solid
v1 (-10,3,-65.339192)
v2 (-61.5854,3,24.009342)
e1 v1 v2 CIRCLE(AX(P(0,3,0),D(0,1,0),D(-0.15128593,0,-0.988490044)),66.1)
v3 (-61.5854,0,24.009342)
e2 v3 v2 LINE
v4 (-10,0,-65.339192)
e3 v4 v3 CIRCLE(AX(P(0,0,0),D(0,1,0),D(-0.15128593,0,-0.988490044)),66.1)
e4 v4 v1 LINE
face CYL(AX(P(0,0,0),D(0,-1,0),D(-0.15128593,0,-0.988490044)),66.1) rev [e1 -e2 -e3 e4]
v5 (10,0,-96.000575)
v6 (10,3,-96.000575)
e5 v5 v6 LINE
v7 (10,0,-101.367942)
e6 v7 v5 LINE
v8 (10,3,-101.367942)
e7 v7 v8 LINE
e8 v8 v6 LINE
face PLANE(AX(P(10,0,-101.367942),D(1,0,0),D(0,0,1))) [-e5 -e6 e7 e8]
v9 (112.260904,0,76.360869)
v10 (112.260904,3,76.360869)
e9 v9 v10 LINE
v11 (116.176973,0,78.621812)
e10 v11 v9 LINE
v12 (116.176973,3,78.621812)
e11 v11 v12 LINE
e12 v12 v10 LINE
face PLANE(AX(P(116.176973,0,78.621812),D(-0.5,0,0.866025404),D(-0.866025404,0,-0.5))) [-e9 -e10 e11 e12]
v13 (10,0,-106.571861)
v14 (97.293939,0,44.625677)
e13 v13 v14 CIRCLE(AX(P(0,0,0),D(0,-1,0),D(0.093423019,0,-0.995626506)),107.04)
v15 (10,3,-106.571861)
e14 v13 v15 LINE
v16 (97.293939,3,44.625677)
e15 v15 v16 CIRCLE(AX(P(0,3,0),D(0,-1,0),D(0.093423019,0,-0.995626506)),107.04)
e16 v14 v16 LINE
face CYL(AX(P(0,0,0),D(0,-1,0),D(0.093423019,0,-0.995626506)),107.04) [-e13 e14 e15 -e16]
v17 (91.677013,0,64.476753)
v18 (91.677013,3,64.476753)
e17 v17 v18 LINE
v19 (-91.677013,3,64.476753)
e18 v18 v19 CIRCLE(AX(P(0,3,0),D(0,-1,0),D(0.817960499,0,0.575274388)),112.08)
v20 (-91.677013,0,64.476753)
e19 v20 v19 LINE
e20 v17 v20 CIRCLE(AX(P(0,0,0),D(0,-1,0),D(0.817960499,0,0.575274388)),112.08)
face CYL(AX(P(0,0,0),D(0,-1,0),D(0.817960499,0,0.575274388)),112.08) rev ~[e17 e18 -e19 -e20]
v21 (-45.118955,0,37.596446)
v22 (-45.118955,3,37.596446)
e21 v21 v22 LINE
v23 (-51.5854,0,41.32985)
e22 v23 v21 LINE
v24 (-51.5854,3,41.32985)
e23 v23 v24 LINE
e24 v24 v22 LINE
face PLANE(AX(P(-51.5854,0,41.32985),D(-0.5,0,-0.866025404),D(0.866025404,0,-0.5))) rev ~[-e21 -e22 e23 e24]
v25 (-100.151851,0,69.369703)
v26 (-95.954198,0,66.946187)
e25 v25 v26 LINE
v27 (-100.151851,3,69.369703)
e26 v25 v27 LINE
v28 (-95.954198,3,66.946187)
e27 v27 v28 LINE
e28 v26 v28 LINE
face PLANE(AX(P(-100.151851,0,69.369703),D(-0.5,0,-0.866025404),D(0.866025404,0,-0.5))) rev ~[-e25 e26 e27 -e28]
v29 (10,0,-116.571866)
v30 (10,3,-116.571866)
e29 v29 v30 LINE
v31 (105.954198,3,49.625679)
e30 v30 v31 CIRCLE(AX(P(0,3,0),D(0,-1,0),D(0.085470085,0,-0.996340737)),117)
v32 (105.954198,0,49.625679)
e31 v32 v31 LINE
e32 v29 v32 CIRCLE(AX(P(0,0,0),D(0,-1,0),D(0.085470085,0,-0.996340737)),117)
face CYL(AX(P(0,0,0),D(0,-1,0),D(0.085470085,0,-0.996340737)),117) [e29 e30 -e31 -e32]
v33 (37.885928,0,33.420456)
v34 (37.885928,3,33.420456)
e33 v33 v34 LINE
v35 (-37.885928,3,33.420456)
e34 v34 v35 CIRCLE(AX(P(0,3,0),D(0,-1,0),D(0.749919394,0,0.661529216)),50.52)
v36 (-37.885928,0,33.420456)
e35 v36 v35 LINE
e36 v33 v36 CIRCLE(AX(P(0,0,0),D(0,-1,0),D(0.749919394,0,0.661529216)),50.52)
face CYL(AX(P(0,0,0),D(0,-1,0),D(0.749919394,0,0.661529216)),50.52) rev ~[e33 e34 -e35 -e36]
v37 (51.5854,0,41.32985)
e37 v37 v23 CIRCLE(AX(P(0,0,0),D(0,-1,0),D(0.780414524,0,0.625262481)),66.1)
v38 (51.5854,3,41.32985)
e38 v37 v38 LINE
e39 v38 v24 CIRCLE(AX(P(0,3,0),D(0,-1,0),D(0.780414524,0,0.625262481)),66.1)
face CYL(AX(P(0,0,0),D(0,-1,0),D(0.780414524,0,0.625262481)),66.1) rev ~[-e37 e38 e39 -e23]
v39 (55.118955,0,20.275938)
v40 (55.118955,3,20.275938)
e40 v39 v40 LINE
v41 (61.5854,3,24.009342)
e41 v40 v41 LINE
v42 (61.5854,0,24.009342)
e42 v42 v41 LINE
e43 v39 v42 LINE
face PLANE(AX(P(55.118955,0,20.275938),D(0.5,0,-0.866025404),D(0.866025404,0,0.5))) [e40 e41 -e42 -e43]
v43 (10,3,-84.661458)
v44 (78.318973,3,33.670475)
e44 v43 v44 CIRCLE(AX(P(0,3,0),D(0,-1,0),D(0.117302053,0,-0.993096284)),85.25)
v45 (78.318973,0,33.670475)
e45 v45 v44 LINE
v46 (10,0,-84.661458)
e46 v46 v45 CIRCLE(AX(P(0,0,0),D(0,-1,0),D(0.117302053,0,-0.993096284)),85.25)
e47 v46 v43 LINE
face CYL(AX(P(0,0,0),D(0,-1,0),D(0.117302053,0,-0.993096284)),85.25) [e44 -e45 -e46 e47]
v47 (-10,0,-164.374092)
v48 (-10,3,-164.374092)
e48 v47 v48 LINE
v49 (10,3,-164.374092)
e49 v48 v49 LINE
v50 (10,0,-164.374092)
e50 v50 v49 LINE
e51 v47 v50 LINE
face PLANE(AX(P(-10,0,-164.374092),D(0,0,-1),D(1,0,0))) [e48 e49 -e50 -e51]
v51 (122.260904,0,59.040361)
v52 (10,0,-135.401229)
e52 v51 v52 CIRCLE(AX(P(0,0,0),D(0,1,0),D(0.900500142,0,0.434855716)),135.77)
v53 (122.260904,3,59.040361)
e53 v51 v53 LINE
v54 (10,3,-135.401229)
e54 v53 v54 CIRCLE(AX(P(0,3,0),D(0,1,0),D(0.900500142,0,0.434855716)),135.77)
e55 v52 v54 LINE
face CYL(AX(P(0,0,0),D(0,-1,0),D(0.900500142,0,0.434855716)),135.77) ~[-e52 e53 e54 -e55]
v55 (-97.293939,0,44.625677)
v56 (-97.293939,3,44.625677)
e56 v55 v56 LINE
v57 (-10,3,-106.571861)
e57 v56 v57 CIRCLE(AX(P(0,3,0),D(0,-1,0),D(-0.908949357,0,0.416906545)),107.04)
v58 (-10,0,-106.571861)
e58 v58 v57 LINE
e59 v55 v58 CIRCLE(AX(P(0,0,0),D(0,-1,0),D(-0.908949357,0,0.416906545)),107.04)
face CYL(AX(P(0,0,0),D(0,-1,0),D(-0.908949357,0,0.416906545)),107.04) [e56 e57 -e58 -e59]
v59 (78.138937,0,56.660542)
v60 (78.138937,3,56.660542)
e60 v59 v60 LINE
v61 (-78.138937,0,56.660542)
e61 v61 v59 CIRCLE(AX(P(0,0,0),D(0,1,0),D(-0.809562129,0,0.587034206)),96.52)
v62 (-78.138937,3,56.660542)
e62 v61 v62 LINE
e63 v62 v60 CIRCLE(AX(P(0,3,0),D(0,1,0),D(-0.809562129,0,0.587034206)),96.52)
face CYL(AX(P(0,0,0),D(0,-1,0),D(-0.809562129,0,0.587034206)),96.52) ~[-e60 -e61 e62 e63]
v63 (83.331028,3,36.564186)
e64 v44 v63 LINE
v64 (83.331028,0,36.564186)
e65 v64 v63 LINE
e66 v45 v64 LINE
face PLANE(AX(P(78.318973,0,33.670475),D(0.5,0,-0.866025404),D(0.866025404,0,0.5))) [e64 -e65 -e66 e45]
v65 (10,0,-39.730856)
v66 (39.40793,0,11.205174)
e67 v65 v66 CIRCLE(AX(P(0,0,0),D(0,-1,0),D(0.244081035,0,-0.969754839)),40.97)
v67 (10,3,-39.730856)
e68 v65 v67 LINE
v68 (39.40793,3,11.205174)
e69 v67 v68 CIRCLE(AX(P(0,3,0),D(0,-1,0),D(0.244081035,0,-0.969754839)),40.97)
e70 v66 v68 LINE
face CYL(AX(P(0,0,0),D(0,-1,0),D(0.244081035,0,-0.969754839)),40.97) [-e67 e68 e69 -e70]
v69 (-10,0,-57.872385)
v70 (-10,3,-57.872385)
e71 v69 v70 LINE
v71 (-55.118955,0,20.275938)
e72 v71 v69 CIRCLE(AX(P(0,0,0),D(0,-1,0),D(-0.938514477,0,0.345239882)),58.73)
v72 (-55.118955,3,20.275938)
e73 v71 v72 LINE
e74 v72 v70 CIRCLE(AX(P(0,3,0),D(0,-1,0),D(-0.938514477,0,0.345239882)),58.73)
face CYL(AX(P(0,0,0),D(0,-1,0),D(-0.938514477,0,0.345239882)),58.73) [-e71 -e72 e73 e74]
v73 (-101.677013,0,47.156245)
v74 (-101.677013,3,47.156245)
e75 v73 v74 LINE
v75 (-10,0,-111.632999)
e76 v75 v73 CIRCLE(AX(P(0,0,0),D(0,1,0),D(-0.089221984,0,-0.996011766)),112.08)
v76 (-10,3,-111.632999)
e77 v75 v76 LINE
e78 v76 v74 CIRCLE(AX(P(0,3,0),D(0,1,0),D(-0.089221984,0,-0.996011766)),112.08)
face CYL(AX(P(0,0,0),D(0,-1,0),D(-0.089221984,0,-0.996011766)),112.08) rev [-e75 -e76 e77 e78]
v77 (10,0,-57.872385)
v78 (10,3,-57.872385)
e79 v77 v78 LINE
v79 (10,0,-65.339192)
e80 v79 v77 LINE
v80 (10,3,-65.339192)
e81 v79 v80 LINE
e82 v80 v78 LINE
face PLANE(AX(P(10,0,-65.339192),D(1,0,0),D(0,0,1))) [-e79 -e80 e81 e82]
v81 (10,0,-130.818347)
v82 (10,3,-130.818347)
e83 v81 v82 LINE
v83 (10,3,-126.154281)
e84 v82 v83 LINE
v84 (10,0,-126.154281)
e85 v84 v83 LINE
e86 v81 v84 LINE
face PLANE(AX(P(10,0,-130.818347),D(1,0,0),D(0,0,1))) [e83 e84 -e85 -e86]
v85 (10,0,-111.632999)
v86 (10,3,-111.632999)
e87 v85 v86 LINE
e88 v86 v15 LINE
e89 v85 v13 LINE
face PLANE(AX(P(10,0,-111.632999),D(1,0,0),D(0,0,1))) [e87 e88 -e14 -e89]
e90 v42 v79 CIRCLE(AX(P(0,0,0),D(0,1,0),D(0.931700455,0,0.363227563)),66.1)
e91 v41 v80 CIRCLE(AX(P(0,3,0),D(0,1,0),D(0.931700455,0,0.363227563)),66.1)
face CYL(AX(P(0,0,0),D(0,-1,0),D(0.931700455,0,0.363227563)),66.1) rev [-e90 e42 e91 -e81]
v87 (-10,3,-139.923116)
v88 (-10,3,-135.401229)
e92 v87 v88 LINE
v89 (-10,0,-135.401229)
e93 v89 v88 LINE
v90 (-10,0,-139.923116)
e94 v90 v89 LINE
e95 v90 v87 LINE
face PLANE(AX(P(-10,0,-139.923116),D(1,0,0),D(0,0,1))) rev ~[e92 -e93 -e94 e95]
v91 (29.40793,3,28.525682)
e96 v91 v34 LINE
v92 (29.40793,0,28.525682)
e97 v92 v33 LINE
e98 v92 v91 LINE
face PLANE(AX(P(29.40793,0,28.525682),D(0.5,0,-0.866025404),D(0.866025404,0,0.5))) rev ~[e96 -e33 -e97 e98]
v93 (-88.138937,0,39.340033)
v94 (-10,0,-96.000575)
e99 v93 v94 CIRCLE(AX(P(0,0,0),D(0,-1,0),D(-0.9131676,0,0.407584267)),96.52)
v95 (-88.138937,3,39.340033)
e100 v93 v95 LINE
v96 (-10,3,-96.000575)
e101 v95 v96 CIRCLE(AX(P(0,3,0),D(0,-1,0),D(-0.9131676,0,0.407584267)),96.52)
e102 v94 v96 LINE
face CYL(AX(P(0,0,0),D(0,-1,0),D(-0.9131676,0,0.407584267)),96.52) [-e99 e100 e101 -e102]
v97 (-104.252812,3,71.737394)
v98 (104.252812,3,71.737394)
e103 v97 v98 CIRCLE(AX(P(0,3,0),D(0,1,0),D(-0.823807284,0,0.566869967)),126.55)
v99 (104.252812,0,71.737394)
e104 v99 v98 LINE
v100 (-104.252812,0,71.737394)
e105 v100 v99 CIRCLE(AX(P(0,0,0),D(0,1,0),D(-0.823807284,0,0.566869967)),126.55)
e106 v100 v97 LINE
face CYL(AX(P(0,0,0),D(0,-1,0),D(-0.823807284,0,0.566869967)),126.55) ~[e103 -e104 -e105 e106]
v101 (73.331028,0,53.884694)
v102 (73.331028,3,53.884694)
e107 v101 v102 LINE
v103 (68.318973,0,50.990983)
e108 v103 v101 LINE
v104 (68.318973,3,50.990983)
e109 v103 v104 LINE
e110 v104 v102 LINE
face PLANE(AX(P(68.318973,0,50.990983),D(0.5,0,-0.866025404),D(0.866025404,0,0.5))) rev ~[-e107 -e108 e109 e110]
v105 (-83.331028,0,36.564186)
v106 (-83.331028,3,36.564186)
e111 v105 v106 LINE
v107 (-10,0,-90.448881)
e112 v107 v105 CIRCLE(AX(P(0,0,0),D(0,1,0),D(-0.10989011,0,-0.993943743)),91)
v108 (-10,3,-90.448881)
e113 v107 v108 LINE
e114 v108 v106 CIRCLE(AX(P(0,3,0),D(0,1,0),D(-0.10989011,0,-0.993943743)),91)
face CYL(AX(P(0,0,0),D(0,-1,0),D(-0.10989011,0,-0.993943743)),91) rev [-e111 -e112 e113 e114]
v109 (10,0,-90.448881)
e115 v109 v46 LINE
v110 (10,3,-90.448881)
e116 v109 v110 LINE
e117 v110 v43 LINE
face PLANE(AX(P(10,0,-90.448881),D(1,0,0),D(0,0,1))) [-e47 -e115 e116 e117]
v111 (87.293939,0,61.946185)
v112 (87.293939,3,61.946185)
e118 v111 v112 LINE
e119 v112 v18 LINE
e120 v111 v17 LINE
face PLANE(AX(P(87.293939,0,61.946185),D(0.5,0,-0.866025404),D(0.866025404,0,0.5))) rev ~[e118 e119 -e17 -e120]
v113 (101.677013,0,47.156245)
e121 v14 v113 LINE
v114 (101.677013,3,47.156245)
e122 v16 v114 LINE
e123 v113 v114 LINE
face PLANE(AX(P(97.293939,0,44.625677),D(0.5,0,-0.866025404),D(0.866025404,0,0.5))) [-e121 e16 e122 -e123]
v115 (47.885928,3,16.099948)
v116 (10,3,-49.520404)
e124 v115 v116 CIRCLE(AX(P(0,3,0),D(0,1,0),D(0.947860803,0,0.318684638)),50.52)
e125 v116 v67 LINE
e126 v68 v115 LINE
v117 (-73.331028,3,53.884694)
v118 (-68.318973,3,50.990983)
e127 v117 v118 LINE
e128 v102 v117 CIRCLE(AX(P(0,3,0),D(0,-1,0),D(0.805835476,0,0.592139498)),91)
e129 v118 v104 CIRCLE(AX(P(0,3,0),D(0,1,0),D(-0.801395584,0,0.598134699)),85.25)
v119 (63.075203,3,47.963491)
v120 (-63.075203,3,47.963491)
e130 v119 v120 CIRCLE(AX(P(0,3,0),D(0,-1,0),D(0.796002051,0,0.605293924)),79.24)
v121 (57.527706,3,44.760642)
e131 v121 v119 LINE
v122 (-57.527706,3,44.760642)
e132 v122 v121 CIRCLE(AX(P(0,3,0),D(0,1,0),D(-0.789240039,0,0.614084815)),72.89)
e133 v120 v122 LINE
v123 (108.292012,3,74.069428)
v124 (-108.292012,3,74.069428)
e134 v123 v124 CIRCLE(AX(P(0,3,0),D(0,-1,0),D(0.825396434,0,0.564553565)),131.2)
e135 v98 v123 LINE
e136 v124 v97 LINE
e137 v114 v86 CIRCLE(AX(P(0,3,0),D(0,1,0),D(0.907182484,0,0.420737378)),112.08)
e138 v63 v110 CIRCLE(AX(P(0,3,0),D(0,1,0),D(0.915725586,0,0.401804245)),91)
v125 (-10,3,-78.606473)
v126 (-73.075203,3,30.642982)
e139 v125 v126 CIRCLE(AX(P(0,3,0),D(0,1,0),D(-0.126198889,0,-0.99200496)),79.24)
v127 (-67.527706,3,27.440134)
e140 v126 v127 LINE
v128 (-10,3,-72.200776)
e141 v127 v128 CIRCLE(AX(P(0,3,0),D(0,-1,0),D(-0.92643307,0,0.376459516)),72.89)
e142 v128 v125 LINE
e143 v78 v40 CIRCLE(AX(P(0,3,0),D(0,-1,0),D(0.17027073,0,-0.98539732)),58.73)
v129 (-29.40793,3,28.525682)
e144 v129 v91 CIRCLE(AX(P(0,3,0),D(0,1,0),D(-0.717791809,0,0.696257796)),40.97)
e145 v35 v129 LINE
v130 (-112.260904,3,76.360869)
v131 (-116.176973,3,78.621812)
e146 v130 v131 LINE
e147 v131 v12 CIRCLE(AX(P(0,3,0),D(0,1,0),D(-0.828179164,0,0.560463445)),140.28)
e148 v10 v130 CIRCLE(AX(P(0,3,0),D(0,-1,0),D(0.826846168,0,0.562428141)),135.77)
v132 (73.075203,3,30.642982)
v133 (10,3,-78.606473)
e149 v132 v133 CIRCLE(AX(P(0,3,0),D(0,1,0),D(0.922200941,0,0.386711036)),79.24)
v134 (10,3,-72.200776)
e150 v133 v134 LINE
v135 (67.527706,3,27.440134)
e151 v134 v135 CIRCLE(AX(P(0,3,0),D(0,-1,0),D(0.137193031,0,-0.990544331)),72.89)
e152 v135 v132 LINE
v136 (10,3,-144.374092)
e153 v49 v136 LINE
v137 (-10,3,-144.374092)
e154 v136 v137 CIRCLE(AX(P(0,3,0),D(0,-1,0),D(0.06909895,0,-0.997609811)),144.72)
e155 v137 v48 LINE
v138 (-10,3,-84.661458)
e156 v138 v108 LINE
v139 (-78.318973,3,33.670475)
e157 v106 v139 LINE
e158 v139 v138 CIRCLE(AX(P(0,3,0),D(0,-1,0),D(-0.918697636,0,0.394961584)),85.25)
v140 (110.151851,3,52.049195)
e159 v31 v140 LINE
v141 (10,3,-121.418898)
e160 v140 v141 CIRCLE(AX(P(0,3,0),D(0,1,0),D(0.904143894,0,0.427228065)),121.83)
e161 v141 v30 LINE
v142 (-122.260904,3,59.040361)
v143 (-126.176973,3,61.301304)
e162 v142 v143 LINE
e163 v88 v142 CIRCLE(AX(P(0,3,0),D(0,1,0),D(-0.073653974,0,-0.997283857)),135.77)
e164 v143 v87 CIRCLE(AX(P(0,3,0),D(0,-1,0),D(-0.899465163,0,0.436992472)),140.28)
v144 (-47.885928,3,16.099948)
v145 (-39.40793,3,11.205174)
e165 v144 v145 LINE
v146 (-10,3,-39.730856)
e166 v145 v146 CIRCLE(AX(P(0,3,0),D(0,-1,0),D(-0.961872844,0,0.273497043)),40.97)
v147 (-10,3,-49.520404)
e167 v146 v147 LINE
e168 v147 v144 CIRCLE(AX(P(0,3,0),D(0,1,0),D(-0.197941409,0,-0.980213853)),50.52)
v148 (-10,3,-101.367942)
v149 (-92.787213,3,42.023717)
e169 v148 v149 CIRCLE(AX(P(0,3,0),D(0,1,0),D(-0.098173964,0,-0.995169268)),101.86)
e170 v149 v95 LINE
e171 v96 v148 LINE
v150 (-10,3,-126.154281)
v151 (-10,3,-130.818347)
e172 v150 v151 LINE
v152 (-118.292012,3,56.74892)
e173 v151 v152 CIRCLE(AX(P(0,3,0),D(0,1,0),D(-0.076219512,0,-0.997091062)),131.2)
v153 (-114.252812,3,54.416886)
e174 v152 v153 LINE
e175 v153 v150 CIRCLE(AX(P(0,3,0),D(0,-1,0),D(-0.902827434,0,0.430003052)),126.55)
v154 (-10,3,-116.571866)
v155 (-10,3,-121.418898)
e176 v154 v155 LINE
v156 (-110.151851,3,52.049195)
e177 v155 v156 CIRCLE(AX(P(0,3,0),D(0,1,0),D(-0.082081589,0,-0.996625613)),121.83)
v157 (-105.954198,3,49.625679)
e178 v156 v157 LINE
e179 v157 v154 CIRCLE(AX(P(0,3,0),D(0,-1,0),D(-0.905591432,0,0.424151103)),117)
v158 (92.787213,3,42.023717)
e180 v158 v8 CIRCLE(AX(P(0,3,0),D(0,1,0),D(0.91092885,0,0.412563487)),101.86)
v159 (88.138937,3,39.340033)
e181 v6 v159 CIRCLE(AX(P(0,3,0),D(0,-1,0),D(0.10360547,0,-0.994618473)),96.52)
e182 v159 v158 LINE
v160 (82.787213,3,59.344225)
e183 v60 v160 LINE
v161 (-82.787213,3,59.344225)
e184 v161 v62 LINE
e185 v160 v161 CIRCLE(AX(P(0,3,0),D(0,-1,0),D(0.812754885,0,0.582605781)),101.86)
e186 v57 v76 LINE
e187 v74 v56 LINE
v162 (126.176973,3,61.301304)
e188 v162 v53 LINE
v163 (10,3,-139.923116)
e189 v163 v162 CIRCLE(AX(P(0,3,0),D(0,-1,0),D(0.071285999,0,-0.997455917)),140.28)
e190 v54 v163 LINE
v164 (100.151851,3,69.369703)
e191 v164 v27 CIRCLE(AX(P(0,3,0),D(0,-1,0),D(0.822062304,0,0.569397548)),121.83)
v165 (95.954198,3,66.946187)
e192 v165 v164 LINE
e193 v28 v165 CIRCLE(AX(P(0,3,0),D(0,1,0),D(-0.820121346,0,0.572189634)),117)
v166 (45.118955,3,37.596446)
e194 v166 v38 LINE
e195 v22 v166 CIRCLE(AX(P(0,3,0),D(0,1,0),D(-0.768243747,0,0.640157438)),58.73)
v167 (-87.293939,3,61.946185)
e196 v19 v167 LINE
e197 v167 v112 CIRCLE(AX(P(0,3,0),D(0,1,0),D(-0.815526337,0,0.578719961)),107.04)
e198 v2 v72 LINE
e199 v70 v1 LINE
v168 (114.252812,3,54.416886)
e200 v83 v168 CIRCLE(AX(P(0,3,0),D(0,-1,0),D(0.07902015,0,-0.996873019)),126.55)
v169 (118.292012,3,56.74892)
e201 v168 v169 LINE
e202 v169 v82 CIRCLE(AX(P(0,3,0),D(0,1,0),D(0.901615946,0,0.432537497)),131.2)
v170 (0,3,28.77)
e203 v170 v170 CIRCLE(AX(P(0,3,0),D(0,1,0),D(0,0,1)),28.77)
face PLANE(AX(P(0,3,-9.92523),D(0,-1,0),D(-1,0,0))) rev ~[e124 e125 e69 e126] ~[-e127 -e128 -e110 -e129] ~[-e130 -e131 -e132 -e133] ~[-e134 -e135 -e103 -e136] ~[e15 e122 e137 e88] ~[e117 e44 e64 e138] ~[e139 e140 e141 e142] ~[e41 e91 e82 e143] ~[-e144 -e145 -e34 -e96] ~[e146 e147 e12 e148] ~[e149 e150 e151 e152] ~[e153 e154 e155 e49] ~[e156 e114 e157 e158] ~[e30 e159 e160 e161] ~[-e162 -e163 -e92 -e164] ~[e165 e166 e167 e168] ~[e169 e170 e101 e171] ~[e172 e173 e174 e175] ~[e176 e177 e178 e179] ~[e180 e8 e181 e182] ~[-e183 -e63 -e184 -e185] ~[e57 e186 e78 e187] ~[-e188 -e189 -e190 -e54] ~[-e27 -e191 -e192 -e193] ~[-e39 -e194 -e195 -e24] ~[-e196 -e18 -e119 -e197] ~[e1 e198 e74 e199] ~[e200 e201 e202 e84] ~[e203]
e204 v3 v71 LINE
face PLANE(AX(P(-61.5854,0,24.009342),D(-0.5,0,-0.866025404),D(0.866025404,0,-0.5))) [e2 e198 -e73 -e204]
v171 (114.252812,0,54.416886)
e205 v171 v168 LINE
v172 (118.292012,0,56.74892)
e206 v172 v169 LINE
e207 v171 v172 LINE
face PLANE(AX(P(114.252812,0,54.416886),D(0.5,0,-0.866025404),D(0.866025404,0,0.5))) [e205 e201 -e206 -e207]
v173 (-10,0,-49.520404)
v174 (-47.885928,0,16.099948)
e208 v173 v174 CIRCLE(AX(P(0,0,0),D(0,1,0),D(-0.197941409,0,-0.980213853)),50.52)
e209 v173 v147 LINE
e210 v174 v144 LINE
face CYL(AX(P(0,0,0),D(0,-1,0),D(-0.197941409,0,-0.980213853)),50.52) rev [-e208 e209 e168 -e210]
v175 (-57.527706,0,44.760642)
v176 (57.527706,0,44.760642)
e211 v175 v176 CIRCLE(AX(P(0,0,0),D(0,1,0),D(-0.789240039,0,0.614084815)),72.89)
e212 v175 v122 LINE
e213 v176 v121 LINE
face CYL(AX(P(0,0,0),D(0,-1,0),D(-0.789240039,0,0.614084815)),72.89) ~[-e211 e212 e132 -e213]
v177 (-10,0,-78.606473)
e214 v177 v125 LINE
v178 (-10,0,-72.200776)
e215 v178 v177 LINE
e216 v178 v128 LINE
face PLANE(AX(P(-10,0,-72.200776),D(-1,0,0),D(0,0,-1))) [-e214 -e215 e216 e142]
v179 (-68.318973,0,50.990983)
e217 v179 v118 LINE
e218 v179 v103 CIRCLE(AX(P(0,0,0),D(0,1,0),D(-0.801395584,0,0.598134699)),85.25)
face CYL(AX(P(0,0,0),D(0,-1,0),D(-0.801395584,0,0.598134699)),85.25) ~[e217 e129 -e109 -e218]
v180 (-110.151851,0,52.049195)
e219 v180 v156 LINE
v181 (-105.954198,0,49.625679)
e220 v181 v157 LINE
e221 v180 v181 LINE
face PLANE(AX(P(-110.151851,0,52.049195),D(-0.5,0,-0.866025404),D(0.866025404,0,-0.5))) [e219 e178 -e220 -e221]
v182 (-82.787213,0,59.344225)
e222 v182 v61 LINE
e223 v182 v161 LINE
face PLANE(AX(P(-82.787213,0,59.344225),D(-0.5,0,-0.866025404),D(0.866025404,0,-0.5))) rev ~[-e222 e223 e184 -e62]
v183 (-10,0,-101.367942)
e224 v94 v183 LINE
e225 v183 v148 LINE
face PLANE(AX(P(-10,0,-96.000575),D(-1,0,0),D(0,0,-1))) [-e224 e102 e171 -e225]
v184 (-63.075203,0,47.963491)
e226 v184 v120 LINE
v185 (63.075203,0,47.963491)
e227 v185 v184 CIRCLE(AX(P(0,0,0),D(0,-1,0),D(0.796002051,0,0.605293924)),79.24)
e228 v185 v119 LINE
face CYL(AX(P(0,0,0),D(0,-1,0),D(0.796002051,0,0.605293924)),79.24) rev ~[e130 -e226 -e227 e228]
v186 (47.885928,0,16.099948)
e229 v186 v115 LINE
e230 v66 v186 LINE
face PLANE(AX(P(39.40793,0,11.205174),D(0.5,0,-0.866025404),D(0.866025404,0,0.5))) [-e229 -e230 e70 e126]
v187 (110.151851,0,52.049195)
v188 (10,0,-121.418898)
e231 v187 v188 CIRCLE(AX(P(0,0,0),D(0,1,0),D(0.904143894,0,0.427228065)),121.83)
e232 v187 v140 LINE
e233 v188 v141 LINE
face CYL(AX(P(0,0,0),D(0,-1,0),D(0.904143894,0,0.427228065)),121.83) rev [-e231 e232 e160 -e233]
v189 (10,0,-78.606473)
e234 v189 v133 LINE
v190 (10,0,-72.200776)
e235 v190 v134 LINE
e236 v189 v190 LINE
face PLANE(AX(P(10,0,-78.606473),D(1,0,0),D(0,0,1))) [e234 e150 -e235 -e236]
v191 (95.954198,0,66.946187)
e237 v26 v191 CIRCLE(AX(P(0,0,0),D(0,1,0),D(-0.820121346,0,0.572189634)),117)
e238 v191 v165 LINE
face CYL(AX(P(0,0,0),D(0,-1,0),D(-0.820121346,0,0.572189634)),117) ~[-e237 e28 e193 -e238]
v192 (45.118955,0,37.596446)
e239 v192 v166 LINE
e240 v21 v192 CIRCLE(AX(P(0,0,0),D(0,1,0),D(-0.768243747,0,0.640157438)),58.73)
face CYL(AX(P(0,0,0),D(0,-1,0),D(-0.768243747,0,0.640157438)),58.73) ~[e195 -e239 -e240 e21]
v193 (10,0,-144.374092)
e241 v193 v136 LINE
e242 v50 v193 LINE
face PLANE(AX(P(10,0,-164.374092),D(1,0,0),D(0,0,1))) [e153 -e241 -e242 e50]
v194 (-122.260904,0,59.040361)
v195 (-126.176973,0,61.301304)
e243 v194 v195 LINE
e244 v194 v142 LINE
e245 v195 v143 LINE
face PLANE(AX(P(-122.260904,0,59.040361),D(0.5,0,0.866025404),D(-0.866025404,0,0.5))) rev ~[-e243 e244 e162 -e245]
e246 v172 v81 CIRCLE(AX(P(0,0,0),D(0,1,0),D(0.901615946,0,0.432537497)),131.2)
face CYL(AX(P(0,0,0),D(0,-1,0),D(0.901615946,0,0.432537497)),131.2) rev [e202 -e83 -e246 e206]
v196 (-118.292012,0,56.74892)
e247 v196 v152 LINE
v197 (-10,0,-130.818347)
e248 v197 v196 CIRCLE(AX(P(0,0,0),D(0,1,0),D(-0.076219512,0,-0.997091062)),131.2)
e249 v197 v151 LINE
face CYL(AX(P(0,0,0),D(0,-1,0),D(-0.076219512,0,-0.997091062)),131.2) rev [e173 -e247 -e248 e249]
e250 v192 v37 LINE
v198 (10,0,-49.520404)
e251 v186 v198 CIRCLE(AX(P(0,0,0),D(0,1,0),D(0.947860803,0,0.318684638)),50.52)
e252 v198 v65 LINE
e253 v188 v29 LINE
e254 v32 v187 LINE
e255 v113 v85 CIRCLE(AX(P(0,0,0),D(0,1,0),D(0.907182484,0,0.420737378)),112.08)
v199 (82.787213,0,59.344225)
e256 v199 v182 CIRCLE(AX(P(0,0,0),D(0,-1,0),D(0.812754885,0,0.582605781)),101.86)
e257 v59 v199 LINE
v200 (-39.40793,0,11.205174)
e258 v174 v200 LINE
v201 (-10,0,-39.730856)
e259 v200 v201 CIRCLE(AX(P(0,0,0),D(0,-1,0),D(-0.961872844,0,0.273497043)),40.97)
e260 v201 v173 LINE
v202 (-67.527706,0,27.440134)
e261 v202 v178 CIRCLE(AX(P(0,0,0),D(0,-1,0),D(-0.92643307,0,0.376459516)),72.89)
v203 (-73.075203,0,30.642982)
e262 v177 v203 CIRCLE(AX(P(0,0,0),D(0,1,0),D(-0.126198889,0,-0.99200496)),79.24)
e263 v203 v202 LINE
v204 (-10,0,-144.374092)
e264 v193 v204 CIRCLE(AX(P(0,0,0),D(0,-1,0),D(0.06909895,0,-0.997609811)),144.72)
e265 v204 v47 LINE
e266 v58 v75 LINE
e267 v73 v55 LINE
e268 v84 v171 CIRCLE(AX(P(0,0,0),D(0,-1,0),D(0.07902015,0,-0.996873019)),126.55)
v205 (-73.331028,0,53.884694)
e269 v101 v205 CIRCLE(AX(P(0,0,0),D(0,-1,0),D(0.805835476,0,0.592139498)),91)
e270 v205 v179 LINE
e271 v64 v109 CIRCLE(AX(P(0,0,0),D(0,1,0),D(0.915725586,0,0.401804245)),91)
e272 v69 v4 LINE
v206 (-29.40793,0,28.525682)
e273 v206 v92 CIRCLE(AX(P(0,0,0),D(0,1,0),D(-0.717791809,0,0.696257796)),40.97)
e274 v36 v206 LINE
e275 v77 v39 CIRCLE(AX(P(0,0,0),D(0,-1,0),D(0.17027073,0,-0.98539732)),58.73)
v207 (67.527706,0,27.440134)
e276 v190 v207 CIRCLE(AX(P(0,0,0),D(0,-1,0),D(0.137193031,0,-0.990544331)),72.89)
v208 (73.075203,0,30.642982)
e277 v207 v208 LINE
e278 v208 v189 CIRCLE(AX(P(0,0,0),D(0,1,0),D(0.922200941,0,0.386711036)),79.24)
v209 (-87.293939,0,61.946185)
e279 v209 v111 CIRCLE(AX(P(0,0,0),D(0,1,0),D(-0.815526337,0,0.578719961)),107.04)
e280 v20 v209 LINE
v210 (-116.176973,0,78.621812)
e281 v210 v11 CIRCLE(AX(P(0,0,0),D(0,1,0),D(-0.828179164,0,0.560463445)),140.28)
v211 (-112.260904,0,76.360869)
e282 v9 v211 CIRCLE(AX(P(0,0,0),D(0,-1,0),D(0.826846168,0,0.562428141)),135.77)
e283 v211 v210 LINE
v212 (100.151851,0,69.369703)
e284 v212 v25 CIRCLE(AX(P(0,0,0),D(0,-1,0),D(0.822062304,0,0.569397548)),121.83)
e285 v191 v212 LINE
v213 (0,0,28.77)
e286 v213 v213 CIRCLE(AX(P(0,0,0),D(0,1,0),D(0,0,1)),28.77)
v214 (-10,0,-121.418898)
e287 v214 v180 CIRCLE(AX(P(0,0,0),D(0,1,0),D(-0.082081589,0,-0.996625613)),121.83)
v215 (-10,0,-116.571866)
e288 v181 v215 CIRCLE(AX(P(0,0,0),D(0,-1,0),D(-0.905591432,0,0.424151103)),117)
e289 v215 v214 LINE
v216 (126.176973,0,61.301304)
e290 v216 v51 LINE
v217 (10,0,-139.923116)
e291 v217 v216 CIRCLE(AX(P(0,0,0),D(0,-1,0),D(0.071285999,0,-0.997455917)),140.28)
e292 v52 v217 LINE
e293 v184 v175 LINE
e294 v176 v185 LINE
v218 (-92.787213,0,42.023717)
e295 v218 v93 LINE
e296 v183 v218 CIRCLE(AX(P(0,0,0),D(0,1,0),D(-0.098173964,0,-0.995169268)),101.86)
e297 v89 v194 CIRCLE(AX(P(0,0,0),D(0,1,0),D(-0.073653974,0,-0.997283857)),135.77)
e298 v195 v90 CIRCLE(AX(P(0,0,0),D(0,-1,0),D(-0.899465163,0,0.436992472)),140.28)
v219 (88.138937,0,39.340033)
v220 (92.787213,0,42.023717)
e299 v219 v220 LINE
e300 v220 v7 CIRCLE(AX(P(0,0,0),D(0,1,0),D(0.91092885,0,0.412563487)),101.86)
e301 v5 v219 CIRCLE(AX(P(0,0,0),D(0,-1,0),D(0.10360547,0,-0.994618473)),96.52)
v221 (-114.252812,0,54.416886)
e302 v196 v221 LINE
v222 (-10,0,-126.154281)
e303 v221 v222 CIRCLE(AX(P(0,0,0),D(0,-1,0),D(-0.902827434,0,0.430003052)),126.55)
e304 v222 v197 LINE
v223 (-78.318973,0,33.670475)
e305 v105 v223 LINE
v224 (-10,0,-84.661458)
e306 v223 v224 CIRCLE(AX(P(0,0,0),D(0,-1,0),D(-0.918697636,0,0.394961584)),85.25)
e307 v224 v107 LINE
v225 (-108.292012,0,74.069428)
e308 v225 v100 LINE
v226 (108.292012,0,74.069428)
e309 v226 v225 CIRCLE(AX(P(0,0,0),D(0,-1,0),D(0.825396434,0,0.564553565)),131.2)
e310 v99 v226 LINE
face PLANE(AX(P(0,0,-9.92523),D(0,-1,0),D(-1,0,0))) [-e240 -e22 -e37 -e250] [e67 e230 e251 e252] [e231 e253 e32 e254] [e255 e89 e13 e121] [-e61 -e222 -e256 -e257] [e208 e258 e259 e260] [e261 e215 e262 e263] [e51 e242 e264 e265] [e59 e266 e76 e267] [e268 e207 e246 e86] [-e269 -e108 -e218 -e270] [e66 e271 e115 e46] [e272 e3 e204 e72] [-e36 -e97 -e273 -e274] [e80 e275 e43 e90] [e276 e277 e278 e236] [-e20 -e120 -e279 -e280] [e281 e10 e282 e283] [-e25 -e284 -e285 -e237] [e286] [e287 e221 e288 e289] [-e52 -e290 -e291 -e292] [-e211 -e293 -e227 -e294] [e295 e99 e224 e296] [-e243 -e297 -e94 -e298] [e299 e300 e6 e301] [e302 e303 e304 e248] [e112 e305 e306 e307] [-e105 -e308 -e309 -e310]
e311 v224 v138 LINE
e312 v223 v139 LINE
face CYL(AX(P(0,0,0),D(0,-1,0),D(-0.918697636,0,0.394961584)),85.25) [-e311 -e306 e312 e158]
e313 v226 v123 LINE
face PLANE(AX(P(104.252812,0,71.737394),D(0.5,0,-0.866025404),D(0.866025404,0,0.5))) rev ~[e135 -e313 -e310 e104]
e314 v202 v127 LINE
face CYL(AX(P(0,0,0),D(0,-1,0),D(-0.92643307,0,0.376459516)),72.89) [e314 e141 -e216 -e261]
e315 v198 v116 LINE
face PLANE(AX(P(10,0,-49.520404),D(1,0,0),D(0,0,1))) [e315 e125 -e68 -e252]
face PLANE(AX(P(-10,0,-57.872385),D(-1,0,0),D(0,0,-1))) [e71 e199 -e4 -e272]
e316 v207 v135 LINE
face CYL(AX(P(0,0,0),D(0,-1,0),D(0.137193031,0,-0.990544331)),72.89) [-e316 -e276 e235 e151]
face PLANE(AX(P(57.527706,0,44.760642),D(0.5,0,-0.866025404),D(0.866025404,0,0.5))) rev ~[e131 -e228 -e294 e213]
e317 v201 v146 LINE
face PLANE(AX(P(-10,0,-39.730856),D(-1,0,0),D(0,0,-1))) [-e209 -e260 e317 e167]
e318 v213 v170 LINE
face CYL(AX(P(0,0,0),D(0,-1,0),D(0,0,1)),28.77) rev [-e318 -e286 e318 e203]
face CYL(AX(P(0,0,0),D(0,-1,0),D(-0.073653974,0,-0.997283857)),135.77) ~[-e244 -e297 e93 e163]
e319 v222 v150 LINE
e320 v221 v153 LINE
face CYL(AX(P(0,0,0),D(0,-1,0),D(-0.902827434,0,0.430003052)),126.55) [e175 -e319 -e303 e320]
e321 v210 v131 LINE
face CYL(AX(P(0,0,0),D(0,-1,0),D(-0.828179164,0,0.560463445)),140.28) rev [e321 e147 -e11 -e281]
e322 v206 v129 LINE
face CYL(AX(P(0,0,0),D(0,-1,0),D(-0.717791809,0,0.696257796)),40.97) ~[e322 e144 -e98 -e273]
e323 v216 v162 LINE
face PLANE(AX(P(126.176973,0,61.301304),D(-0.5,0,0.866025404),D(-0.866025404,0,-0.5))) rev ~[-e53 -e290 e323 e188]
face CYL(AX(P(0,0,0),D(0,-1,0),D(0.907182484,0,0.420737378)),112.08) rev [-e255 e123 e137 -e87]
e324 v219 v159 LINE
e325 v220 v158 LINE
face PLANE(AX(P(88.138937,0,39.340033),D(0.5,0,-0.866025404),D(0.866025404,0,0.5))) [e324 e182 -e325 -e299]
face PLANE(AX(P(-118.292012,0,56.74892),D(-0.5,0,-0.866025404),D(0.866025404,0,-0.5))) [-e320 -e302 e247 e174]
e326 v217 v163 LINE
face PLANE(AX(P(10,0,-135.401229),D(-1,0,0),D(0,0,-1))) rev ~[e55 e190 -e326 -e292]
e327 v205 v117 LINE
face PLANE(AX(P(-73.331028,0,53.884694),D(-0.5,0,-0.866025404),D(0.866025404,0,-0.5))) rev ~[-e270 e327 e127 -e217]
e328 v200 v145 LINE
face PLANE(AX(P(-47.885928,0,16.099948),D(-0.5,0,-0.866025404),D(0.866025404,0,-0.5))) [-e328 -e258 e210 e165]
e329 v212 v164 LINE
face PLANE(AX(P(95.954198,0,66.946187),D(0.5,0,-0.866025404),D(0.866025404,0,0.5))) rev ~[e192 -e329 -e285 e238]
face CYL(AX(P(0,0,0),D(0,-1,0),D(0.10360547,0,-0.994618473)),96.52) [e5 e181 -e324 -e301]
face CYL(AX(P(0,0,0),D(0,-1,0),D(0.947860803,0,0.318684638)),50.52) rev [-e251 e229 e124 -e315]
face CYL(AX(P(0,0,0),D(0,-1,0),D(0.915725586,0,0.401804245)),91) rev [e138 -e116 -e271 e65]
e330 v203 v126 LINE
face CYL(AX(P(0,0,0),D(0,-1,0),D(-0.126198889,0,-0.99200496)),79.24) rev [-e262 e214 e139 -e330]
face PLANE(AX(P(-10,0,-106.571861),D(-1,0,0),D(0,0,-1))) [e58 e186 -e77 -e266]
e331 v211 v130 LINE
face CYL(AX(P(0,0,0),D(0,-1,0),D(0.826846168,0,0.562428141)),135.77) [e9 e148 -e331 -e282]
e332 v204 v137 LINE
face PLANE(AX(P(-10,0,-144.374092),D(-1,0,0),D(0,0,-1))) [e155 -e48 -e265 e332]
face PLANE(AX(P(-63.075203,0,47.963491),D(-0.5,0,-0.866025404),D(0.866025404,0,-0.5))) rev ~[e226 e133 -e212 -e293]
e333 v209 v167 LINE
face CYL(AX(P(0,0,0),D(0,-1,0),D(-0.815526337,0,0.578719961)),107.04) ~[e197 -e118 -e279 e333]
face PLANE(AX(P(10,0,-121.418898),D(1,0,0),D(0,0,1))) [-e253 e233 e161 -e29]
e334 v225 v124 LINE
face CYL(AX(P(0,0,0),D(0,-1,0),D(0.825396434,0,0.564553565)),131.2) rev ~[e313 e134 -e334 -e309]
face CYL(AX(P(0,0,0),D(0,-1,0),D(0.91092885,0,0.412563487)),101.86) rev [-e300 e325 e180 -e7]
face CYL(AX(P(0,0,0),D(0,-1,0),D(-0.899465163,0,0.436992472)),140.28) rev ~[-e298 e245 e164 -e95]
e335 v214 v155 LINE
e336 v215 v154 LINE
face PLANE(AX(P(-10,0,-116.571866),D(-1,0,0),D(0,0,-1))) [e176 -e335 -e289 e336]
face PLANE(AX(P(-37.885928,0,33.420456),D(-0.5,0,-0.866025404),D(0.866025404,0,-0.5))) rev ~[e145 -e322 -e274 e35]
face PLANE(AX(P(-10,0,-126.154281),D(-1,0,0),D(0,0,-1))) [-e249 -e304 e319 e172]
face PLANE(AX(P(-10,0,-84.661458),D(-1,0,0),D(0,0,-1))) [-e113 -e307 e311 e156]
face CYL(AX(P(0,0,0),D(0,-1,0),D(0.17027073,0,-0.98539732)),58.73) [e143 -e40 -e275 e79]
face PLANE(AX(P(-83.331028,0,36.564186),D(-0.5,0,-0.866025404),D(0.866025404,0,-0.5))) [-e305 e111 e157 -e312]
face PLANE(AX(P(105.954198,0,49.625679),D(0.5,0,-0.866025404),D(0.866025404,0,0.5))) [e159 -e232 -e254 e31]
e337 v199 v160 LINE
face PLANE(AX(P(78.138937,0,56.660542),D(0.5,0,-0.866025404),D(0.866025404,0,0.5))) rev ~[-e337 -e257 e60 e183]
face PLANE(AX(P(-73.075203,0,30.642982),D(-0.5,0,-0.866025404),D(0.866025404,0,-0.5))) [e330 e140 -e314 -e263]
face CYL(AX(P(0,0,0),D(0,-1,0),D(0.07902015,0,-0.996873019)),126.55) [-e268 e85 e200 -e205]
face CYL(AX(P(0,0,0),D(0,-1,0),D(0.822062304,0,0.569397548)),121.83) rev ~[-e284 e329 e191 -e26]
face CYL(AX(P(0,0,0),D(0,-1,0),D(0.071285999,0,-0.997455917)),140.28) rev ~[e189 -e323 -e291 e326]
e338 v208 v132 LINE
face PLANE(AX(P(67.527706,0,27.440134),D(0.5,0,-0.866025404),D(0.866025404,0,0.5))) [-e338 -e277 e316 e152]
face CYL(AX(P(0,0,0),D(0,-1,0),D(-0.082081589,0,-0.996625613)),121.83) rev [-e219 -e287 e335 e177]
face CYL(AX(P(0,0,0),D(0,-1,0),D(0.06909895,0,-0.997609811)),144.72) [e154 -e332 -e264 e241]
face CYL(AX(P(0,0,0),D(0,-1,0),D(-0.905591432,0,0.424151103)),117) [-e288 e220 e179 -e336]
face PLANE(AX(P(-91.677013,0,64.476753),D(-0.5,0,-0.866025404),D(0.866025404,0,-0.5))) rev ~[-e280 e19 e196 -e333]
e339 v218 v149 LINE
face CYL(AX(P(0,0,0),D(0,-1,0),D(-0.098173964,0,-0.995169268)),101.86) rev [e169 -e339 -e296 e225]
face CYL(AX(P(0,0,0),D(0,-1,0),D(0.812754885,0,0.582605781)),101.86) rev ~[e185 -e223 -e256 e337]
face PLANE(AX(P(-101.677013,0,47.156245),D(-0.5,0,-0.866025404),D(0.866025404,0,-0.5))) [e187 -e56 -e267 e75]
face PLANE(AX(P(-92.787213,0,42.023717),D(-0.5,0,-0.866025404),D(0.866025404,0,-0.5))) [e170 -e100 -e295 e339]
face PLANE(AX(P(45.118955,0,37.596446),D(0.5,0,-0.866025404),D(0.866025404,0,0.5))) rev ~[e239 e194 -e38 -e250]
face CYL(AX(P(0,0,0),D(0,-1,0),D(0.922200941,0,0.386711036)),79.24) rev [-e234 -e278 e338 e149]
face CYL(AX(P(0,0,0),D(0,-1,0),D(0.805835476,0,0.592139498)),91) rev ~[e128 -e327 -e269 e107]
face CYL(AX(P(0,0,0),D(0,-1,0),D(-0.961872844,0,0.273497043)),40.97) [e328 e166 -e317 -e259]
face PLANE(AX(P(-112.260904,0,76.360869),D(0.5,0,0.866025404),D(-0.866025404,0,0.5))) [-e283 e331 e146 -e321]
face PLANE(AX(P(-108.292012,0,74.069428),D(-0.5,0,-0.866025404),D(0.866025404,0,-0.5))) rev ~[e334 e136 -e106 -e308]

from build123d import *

# Parameters (mm, degrees)
SKETCH_4_R      = 28.77
EXTRUDE_1_DEPTH = 3


with BuildPart() as part:
    # 草图4 → 凸台-拉伸1 (new body)
    with BuildSketch(Plane(origin=(0, 0, 0), x_dir=(1, 0, 0), z_dir=(0, 1, 0))):
        with BuildLine():
            Line((-10, 144.374091859), (-10, 164.374091859))
            Line((-10, 164.374091859), (10, 164.374091859))
            Line((10, 164.374091859), (10, 144.374091859))
            ThreePointArc((10, 144.374091859), (0, -144.72), (-10, 144.374091859))
        make_face()
        with Locations(Location((0, 0, 0), (0, 0, 270))):
            Circle(SKETCH_4_R, mode=Mode.SUBTRACT)
        with BuildLine():
            Line((126.17697306, -61.301303978), (122.26090429, -59.04036062))
            ThreePointArc((122.26090429, -59.04036062), (117.580269072, 67.885), (10, 135.401229315))
            Line((10, 135.401229315), (10, 139.923116032))
            ThreePointArc((10, 139.923116032), (121.486043643, 70.14), (126.17697306, -61.301303978))
        make_face(mode=Mode.SUBTRACT)
        with BuildLine():
            Line((-10, 139.923116032), (-10, 135.401229315))
            ThreePointArc((-10, 135.401229315), (-117.580269072, 67.885), (-122.26090429, -59.04036062))
            Line((-122.26090429, -59.04036062), (-126.17697306, -61.301303978))
            ThreePointArc((-126.17697306, -61.301303978), (-121.486043643, 70.14), (-10, 139.923116032))
        make_face(mode=Mode.SUBTRACT)
        with BuildLine():
            Line((116.17697306, -78.621812054), (112.26090429, -76.360868695))
            ThreePointArc((112.26090429, -76.360868695), (0, -135.77), (-112.26090429, -76.360868695))
            Line((-112.26090429, -76.360868695), (-116.17697306, -78.621812054))
            ThreePointArc((-116.17697306, -78.621812054), (0, -140.28), (116.17697306, -78.621812054))
        make_face(mode=Mode.SUBTRACT)
        with BuildLine():
            Line((-110.151850554, -52.049195185), (-105.954197535, -49.625679085))
            ThreePointArc((-105.954197535, -49.625679085), (-101.324972243, 58.5), (-10, 116.571866246))
            Line((-10, 116.571866246), (-10, 121.418898447))
            ThreePointArc((-10, 121.418898447), (-105.507874943, 60.915), (-110.151850554, -52.049195185))
        make_face(mode=Mode.SUBTRACT)
        with BuildLine():
            Line((-118.292012075, -56.748919631), (-114.252811749, -54.416886235))
            ThreePointArc((-114.252811749, -54.416886235), (-109.595514849, 63.275), (-10, 126.154280546))
            Line((-10, 126.154280546), (-10, 130.818347337))
            ThreePointArc((-10, 130.818347337), (-113.622532977, 65.6), (-118.292012075, -56.748919631))
        make_face(mode=Mode.SUBTRACT)
        with BuildLine():
            Line((-108.292012075, -74.069427706), (-104.252811749, -71.737394311))
            ThreePointArc((-104.252811749, -71.737394311), (0, -126.55), (104.252811749, -71.737394311))
            Line((104.252811749, -71.737394311), (108.292012075, -74.069427706))
            ThreePointArc((108.292012075, -74.069427706), (0, -131.2), (-108.292012075, -74.069427706))
        make_face(mode=Mode.SUBTRACT)
        with BuildLine():
            Line((-100.151850554, -69.369703261), (-95.954197535, -66.946187161))
            ThreePointArc((-95.954197535, -66.946187161), (0, -117), (95.954197535, -66.946187161))
            Line((95.954197535, -66.946187161), (100.151850554, -69.369703261))
            ThreePointArc((100.151850554, -69.369703261), (0, -121.83), (-100.151850554, -69.369703261))
        make_face(mode=Mode.SUBTRACT)
        with BuildLine():
            Line((-101.67701278, -47.156245315), (-97.293939129, -44.625676563))
            ThreePointArc((-97.293939129, -44.625676563), (-92.699359221, 53.52), (-10, 106.571861202))
            Line((-10, 106.571861202), (-10, 111.632998706))
            ThreePointArc((-10, 111.632998706), (-97.064127256, 56.04), (-101.67701278, -47.156245315))
        make_face(mode=Mode.SUBTRACT)
        with BuildLine():
            Line((-92.787212622, -42.023716801), (-88.138936726, -39.340033461))
            ThreePointArc((-88.138936726, -39.340033461), (-83.588771973, 48.26), (-10, 96.000574998))
            Line((-10, 96.000574998), (-10, 101.367941678))
            ThreePointArc((-10, 101.367941678), (-88.213347629, 50.93), (-92.787212622, -42.023716801))
        make_face(mode=Mode.SUBTRACT)
        with BuildLine():
            Line((-83.331028335, -36.564186257), (-78.318973499, -33.670475049))
            ThreePointArc((-78.318973499, -33.670475049), (-73.828665673, 42.625), (-10, 84.661458173))
            Line((-10, 84.661458173), (-10, 90.44888059))
            ThreePointArc((-10, 90.44888059), (-78.808311744, 45.5), (-83.331028335, -36.564186257))
        make_face(mode=Mode.SUBTRACT)
        with BuildLine():
            Line((-73.075202534, -30.64298247), (-67.527706459, -27.440134118))
            ThreePointArc((-67.527706459, -27.440134118), (-63.124591682, 36.445), (-10, 72.200776312))
            Line((-10, 72.200776312), (-10, 78.606473016))
            ThreePointArc((-10, 78.606473016), (-68.623852996, 39.62), (-73.075202534, -30.64298247))
        make_face(mode=Mode.SUBTRACT)
        with BuildLine():
            Line((-61.58540006, -24.009341919), (-55.118955246, -20.275938265))
            ThreePointArc((-55.118955246, -20.275938265), (-50.861671964, 29.365), (-10, 57.872384606))
            Line((-10, 57.872384606), (-10, 65.339191914))
            ThreePointArc((-10, 65.339191914), (-57.24427919, 33.05), (-61.58540006, -24.009341919))
        make_face(mode=Mode.SUBTRACT)
        with BuildLine():
            Line((-47.885927762, -16.0999479), (-39.407930409, -11.205173846))
            ThreePointArc((-39.407930409, -11.205173846), (-35.481060793, 20.485), (-10, 39.730855767))
            Line((-10, 39.730855767), (-10, 49.520403876))
            ThreePointArc((-10, 49.520403876), (-43.751603399, 25.26), (-47.885927762, -16.0999479))
        make_face(mode=Mode.SUBTRACT)
        with BuildLine():
            Line((-37.885927762, -33.420455976), (-29.407930409, -28.525681921))
            ThreePointArc((-29.407930409, -28.525681921), (0, -40.97), (29.407930409, -28.525681921))
            Line((29.407930409, -28.525681921), (37.885927762, -33.420455976))
            ThreePointArc((37.885927762, -33.420455976), (0, -50.52), (-37.885927762, -33.420455976))
        make_face(mode=Mode.SUBTRACT)
        with BuildLine():
            Line((-51.58540006, -41.329849995), (-45.118955246, -37.596446341))
            ThreePointArc((-45.118955246, -37.596446341), (0, -58.73), (45.118955246, -37.596446341))
            Line((45.118955246, -37.596446341), (51.58540006, -41.329849995))
            ThreePointArc((51.58540006, -41.329849995), (0, -66.1), (-51.58540006, -41.329849995))
        make_face(mode=Mode.SUBTRACT)
        with BuildLine():
            Line((-63.075202534, -47.963490546), (-57.527706459, -44.760642194))
            ThreePointArc((-57.527706459, -44.760642194), (0, -72.89), (57.527706459, -44.760642194))
            Line((57.527706459, -44.760642194), (63.075202534, -47.963490546))
            ThreePointArc((63.075202534, -47.963490546), (0, -79.24), (-63.075202534, -47.963490546))
        make_face(mode=Mode.SUBTRACT)
        with BuildLine():
            Line((-82.787212622, -59.344224877), (-78.138936726, -56.660541537))
            ThreePointArc((-78.138936726, -56.660541537), (0, -96.52), (78.138936726, -56.660541537))
            Line((78.138936726, -56.660541537), (82.787212622, -59.344224877))
            ThreePointArc((82.787212622, -59.344224877), (0, -101.86), (-82.787212622, -59.344224877))
        make_face(mode=Mode.SUBTRACT)
        with BuildLine():
            Line((-73.331028335, -53.884694333), (-68.318973499, -50.990983124))
            ThreePointArc((-68.318973499, -50.990983124), (0, -85.25), (68.318973499, -50.990983124))
            Line((68.318973499, -50.990983124), (73.331028335, -53.884694333))
            ThreePointArc((73.331028335, -53.884694333), (0, -91), (-73.331028335, -53.884694333))
        make_face(mode=Mode.SUBTRACT)
        with BuildLine():
            Line((-91.67701278, -64.476753391), (-87.293939129, -61.946184639))
            ThreePointArc((-87.293939129, -61.946184639), (0, -107.04), (87.293939129, -61.946184639))
            Line((87.293939129, -61.946184639), (91.67701278, -64.476753391))
            ThreePointArc((91.67701278, -64.476753391), (0, -112.08), (-91.67701278, -64.476753391))
        make_face(mode=Mode.SUBTRACT)
        with BuildLine():
            Line((10, 49.520403876), (10, 39.730855767))
            ThreePointArc((10, 39.730855767), (35.481060793, 20.485), (39.407930409, -11.205173846))
            Line((39.407930409, -11.205173846), (47.885927762, -16.0999479))
            ThreePointArc((47.885927762, -16.0999479), (43.751603399, 25.26), (10, 49.520403876))
        make_face(mode=Mode.SUBTRACT)
        with BuildLine():
            Line((10, 65.339191914), (10, 57.872384606))
            ThreePointArc((10, 57.872384606), (50.861671964, 29.365), (55.118955246, -20.275938265))
            Line((55.118955246, -20.275938265), (61.58540006, -24.009341919))
            ThreePointArc((61.58540006, -24.009341919), (57.24427919, 33.05), (10, 65.339191914))
        make_face(mode=Mode.SUBTRACT)
        with BuildLine():
            Line((10, 78.606473016), (10, 72.200776312))
            ThreePointArc((10, 72.200776312), (63.124591682, 36.445), (67.527706459, -27.440134118))
            Line((67.527706459, -27.440134118), (73.075202534, -30.64298247))
            ThreePointArc((73.075202534, -30.64298247), (68.623852996, 39.62), (10, 78.606473016))
        make_face(mode=Mode.SUBTRACT)
        with BuildLine():
            Line((10, 90.44888059), (10, 84.661458173))
            ThreePointArc((10, 84.661458173), (73.828665673, 42.625), (78.318973499, -33.670475049))
            Line((78.318973499, -33.670475049), (83.331028335, -36.564186257))
            ThreePointArc((83.331028335, -36.564186257), (78.808311744, 45.5), (10, 90.44888059))
        make_face(mode=Mode.SUBTRACT)
        with BuildLine():
            Line((10, 101.367941678), (10, 96.000574998))
            ThreePointArc((10, 96.000574998), (83.588771973, 48.26), (88.138936726, -39.340033461))
            Line((88.138936726, -39.340033461), (92.787212622, -42.023716801))
            ThreePointArc((92.787212622, -42.023716801), (88.213347629, 50.93), (10, 101.367941678))
        make_face(mode=Mode.SUBTRACT)
        with BuildLine():
            Line((10, 111.632998706), (10, 106.571861202))
            ThreePointArc((10, 106.571861202), (92.699359221, 53.52), (97.293939129, -44.625676563))
            Line((97.293939129, -44.625676563), (101.67701278, -47.156245315))
            ThreePointArc((101.67701278, -47.156245315), (97.064127256, 56.04), (10, 111.632998706))
        make_face(mode=Mode.SUBTRACT)
        with BuildLine():
            Line((10, 121.418898447), (10, 116.571866246))
            ThreePointArc((10, 116.571866246), (101.324972243, 58.5), (105.954197535, -49.625679085))
            Line((105.954197535, -49.625679085), (110.151850554, -52.049195185))
            ThreePointArc((110.151850554, -52.049195185), (105.507874943, 60.915), (10, 121.418898447))
        make_face(mode=Mode.SUBTRACT)
        with BuildLine():
            Line((10, 130.818347337), (10, 126.154280546))
            ThreePointArc((10, 126.154280546), (109.595514849, 63.275), (114.252811749, -54.416886235))
            Line((114.252811749, -54.416886235), (118.292012075, -56.748919631))
            ThreePointArc((118.292012075, -56.748919631), (113.622532977, 65.6), (10, 130.818347337))
        make_face(mode=Mode.SUBTRACT)
    extrude(amount=EXTRUDE_1_DEPTH)


solid = part.part
